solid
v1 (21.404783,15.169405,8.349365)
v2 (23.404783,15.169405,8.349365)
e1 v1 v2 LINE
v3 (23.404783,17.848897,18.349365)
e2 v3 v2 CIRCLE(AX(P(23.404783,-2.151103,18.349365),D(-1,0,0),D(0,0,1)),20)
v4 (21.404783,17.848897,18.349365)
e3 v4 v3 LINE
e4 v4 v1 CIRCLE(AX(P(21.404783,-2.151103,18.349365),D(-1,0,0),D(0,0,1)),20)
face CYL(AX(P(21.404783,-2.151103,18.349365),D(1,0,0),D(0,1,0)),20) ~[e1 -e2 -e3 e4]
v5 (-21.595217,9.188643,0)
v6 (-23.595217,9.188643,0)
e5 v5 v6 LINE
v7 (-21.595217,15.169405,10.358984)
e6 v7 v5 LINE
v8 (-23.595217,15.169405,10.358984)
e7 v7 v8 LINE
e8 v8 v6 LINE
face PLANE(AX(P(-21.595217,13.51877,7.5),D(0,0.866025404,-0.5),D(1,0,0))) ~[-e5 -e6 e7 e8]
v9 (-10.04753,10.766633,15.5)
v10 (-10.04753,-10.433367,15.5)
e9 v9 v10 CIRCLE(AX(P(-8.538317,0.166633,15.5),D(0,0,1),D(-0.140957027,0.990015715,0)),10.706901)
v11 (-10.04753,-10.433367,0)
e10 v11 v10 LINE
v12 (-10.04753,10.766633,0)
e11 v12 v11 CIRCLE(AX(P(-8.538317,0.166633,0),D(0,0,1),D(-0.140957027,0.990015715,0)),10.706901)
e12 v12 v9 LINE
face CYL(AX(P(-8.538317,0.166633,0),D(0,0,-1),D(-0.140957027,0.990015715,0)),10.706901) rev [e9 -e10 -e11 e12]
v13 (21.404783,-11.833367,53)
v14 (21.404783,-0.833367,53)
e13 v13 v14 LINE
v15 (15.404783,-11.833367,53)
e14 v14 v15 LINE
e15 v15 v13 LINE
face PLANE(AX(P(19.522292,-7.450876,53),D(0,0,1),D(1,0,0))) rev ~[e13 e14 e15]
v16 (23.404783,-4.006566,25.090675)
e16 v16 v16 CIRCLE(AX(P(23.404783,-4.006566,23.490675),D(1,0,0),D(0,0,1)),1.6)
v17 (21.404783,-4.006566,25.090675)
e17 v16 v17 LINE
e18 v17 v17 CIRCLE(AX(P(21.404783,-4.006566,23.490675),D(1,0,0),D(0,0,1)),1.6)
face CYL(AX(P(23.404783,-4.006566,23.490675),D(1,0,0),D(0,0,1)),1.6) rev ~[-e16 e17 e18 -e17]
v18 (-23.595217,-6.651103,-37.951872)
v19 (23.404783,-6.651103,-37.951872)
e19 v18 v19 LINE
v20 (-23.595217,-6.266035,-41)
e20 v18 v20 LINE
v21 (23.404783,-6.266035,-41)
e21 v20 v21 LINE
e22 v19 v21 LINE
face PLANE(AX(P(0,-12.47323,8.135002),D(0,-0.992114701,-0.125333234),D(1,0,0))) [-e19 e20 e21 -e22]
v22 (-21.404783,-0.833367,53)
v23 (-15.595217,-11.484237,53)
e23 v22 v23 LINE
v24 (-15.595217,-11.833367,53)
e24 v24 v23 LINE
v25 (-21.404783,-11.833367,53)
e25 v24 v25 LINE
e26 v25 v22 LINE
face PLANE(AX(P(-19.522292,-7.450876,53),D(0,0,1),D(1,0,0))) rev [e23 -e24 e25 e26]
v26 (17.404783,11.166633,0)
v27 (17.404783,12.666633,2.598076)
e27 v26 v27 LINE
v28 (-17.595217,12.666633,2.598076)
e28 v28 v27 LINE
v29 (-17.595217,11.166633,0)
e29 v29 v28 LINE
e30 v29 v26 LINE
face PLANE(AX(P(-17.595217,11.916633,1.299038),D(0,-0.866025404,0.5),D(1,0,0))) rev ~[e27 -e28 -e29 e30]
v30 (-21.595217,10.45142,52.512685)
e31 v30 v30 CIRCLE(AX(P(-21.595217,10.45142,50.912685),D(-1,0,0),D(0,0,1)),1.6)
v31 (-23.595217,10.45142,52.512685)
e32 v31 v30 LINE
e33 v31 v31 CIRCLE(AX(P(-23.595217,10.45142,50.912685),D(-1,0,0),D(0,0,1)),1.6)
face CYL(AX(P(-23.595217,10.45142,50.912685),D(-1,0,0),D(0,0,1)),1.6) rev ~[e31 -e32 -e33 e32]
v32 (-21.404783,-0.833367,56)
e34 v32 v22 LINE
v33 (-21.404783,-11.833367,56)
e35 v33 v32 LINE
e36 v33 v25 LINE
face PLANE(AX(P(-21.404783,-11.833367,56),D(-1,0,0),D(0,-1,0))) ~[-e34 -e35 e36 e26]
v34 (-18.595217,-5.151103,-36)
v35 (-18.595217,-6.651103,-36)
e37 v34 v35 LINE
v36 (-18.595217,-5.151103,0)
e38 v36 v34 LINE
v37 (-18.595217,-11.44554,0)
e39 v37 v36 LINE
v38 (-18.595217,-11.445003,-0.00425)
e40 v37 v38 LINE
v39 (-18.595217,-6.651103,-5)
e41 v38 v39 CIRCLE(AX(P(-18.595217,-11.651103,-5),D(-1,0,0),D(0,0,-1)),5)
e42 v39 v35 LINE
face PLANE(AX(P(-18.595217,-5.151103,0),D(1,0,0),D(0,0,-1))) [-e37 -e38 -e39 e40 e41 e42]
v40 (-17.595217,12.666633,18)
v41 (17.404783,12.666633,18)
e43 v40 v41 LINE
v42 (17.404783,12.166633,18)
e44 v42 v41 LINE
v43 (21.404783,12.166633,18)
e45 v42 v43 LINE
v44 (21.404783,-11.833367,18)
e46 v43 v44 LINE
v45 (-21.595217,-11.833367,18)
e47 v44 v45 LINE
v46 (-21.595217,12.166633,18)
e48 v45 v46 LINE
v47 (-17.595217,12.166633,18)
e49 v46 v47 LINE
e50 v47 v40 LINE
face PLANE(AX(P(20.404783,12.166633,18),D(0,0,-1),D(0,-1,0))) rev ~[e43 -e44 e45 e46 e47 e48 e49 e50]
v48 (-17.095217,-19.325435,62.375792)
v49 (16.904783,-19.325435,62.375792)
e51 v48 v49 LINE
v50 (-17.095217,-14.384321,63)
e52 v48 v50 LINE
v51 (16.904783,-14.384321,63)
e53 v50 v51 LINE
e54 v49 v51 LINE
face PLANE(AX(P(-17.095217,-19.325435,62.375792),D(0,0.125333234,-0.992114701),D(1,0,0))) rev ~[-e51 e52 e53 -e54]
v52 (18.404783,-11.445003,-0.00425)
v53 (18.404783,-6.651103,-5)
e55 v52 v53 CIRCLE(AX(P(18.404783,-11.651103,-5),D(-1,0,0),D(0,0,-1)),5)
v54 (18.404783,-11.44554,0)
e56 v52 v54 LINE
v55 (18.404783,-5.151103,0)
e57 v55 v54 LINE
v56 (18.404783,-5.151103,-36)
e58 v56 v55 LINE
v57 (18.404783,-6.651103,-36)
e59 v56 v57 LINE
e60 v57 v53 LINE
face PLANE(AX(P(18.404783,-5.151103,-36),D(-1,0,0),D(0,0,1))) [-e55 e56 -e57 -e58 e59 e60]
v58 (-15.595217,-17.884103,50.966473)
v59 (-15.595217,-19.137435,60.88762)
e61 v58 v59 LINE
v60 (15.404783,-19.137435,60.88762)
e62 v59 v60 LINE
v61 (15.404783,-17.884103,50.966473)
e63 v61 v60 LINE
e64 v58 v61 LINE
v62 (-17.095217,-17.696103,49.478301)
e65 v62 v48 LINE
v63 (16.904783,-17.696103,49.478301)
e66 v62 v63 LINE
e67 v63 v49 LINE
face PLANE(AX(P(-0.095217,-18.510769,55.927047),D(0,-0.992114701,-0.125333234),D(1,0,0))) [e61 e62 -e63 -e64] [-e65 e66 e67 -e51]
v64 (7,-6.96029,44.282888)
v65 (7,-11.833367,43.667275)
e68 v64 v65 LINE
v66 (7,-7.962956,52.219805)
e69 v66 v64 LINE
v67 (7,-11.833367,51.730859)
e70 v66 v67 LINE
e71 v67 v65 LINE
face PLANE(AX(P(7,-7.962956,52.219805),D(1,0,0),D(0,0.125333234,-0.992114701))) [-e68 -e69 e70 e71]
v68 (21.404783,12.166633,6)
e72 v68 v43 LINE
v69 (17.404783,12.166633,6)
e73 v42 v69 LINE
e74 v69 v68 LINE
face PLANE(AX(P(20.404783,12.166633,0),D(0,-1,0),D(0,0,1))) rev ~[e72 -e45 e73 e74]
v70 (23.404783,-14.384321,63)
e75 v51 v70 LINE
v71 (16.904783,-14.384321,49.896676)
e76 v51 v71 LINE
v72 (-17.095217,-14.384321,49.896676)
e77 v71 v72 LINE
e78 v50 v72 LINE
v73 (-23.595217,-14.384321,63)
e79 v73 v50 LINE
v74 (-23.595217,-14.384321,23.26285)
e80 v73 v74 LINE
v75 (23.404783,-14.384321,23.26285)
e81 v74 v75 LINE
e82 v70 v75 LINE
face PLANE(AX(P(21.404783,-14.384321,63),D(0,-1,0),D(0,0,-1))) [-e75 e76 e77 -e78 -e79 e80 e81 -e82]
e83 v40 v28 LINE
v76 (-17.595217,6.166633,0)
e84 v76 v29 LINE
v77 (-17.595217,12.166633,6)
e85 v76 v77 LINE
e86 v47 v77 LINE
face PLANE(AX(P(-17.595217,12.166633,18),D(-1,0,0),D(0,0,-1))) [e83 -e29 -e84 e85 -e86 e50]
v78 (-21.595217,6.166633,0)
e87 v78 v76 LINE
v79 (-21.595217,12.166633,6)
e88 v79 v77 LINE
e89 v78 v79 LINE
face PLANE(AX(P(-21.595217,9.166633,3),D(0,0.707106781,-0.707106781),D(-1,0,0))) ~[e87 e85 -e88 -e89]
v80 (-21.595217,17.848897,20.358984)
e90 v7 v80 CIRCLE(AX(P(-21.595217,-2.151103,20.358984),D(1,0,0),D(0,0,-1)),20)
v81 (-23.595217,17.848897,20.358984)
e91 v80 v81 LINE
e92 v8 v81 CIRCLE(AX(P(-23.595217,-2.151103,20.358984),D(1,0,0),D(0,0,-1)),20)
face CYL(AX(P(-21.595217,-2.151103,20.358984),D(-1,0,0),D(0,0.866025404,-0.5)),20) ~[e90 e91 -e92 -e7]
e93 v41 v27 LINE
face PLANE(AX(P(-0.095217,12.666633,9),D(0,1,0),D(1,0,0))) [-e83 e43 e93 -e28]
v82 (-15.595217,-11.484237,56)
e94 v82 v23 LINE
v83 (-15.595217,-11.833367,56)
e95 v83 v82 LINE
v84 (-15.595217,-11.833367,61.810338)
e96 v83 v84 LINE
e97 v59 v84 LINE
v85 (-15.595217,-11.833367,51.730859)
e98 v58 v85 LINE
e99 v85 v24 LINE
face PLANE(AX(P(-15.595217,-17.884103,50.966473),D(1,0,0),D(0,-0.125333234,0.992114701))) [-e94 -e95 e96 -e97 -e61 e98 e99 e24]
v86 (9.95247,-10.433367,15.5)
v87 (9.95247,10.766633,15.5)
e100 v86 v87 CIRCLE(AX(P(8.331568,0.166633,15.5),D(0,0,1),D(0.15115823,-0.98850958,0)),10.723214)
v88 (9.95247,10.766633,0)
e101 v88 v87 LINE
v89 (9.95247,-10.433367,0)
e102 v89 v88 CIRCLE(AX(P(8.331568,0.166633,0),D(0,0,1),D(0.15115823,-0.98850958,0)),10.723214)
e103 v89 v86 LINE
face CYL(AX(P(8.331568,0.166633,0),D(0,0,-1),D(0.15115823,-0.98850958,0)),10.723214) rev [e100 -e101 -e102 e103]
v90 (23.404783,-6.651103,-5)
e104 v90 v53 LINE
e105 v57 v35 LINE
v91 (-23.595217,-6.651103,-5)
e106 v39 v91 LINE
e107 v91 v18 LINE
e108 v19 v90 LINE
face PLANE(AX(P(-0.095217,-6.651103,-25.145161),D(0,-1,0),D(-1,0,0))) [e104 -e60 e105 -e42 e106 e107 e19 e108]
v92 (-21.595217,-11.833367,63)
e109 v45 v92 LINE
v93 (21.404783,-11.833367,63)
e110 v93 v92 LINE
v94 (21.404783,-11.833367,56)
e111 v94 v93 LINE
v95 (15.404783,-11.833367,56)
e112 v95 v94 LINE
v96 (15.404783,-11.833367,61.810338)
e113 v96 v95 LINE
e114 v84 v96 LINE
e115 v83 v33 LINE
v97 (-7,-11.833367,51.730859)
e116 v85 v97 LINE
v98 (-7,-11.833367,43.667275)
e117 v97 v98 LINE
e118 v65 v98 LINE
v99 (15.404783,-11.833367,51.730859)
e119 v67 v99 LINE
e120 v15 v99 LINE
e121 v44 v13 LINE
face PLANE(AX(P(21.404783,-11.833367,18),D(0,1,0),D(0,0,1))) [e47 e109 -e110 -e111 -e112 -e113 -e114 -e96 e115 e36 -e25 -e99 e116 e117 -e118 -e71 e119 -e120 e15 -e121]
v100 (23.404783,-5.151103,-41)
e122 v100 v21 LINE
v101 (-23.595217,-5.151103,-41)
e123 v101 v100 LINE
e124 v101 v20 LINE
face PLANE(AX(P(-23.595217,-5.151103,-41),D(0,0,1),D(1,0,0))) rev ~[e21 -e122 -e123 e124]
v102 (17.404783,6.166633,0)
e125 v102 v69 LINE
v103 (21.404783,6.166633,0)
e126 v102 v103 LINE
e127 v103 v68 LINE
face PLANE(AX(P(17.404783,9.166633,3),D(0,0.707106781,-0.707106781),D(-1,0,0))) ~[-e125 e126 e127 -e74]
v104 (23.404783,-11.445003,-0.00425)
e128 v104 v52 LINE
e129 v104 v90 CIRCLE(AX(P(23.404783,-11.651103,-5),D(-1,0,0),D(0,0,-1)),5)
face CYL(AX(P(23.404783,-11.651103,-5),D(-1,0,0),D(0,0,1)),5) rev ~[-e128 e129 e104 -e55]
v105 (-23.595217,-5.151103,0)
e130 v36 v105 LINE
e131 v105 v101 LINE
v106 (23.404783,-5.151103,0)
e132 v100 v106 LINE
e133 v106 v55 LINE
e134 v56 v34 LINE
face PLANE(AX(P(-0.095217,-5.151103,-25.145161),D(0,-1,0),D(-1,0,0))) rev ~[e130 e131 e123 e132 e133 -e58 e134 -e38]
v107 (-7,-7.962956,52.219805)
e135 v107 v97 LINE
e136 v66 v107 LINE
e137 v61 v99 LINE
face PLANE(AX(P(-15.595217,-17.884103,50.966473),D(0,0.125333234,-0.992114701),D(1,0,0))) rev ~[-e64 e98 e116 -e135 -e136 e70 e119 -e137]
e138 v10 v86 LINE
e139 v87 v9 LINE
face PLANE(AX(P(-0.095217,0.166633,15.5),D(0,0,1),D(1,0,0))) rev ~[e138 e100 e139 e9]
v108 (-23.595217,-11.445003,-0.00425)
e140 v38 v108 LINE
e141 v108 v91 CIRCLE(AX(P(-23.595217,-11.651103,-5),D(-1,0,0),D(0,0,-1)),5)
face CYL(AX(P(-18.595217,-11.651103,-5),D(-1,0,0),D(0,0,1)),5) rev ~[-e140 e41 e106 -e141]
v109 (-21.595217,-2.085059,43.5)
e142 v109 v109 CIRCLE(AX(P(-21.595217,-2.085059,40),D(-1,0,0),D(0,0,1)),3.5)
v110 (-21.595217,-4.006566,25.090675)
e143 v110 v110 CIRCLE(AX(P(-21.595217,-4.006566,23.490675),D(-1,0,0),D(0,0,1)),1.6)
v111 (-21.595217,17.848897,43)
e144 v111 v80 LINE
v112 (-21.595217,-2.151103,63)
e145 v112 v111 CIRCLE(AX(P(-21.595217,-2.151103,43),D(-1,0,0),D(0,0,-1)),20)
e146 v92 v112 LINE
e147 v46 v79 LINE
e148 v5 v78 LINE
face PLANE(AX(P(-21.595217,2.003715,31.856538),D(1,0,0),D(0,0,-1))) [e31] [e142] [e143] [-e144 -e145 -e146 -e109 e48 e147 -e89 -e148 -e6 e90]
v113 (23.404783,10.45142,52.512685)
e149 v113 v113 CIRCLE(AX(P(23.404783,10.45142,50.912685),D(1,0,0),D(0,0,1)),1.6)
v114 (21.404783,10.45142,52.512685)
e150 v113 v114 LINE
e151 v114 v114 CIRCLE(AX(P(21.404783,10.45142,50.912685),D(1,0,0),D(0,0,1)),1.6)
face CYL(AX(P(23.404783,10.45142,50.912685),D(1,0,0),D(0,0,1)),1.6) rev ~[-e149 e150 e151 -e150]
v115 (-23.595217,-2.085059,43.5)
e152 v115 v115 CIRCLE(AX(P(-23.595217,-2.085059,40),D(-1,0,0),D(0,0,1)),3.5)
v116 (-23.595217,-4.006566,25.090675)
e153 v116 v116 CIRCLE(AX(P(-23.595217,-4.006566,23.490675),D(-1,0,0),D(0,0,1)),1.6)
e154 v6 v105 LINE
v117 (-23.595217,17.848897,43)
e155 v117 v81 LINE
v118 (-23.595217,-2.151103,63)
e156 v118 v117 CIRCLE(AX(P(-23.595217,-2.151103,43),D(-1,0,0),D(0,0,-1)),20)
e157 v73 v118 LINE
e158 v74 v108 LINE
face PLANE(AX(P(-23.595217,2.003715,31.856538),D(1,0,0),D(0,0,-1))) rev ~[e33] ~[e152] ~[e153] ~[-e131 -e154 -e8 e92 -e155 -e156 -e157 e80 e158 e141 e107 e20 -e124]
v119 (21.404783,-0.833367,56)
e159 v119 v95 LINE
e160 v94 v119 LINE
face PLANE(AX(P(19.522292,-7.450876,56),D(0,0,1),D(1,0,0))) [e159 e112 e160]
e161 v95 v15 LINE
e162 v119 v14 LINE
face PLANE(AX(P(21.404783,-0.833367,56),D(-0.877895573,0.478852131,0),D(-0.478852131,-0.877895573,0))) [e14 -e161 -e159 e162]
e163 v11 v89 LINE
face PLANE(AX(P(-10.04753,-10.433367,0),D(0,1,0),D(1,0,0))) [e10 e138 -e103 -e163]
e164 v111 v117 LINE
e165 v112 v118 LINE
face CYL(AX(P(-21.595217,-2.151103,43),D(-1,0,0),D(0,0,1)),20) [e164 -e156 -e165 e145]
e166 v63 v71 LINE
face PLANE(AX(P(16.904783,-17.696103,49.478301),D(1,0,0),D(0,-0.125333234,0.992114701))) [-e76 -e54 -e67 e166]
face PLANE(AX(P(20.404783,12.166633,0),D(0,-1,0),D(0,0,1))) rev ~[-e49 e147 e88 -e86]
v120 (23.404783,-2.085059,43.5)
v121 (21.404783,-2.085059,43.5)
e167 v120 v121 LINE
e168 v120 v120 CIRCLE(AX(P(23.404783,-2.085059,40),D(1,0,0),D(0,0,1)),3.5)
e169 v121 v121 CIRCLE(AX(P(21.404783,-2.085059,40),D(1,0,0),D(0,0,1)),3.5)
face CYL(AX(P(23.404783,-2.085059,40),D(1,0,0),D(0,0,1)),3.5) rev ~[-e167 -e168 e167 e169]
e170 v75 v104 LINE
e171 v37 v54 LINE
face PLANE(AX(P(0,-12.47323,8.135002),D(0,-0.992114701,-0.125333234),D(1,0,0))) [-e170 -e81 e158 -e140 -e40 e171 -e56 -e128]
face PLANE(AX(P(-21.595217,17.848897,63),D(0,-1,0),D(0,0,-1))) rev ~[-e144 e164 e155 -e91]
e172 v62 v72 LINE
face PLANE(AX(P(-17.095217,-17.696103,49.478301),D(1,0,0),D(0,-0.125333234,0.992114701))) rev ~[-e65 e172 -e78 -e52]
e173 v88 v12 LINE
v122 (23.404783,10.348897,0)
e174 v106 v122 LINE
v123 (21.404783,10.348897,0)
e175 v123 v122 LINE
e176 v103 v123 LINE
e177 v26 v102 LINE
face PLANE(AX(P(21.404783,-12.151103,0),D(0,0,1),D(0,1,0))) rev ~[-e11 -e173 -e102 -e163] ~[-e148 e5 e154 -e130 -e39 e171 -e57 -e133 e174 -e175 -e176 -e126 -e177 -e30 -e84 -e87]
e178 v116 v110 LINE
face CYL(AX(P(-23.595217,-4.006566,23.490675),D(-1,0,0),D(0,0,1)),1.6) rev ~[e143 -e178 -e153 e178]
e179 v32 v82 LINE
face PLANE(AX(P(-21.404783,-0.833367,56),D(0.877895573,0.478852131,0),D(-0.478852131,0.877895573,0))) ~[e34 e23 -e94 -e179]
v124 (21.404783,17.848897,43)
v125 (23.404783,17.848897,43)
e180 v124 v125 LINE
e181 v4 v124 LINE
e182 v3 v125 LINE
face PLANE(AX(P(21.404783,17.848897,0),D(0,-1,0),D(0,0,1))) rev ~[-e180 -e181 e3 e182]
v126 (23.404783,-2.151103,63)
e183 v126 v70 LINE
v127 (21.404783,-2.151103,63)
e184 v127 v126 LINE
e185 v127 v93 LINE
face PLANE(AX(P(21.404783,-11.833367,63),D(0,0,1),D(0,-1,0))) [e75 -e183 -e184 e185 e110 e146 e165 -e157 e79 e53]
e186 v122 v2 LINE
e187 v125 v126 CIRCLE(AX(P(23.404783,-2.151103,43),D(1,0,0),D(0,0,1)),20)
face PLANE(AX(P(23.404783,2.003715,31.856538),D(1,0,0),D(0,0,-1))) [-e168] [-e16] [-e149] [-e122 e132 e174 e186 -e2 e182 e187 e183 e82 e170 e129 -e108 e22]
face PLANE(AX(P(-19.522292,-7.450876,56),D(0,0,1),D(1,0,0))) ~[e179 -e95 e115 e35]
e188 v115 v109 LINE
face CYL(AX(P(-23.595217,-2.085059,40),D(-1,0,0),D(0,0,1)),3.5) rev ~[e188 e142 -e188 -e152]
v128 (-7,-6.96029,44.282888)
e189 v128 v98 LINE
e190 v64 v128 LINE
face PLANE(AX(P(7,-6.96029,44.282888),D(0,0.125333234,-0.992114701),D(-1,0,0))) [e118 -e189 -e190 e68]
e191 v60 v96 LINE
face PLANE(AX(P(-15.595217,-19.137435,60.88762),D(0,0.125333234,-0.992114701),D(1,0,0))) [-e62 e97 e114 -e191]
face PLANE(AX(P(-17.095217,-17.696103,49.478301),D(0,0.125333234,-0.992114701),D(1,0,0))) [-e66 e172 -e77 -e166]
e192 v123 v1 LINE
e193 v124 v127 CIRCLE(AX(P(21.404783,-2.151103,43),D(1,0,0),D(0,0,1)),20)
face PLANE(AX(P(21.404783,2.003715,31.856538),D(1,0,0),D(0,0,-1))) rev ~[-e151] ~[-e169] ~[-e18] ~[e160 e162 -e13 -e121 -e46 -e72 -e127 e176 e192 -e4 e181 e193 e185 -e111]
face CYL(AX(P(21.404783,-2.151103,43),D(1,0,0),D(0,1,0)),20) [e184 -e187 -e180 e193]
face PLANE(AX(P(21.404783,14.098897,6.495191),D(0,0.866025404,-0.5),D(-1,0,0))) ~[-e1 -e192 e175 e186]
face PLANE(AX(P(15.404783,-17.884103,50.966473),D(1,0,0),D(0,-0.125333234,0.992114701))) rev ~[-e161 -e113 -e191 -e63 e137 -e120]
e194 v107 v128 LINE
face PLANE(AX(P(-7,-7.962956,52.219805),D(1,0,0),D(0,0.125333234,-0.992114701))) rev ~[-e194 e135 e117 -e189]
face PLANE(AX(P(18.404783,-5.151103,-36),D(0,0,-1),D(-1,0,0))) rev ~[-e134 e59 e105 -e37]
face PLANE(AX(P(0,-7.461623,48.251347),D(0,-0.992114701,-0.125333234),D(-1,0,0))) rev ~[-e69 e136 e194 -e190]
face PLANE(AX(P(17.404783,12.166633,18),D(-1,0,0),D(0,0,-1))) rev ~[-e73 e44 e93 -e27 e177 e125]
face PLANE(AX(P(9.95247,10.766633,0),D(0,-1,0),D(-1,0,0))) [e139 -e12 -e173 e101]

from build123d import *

# Parameters (mm, degrees)
EXTRUDE_1_DEPTH          = 15.5
SKETCH_2_W               = 41
SKETCH_2_H               = 24
EXTRUDE_2_DEPTH          = 2.5
EXTRUDE_3_DEPTH          = 41
EXTRUDE_5_DEPTH          = 1
EXTRUDE_6_DEPTH          = 1
EXTRUDE_7_DEPTH          = 2
CUT_EXTRUDE_1_REACH      = 81.452
SKETCH_10_R              = 1.6
SKETCH_10_R_2            = 3.5
EXTRUDE_8_DEPTH          = 2
CUT_EXTRUDE_2_REACH      = 82.601
SKETCH_12_R              = 3.5
SKETCH_12_R_2            = 1.6
EXTRUDE_9_DEPTH          = 43
EXTRUDE_10_DEPTH         = 3
EXTRUDE_11_DEPTH         = 1.5
FILLET_1_R               = 5
SKETCH_21_W              = 35
SKETCH_21_H              = 18
EXTRUDE_12_DEPTH         = 0.5
CHAMFER_1_SIZE           = 6
CUT_EXTRUDE_4_DEPTH      = 10
CUT_EXTRUDE_4_DEPTH_BACK = 0.7
SKETCH_24_W              = 99.76929375
SKETCH_24_H              = 144.1272379
CHAMFER_2_SIZE           = 15
CHAMFER_2_SIZE2          = 8.660254038
CHAMFER_3_SIZE           = 7.5
CHAMFER_3_SIZE2          = 12.990381057
CHAMFER_4_SIZE           = 1.5
CHAMFER_4_SIZE2          = 2.598076211
EXTRUDE_13_REACH         = 76.53
SKETCH_25_W              = 34
SKETCH_25_H              = 13
CUT_EXTRUDE_5_REACH      = 76.53
SKETCH_26_W              = 31
SKETCH_26_H              = 10
EXTRUDE_14_REACH         = 72.111
SKETCH_27_W              = 14
SKETCH_27_H              = 8
FILLET_2_R               = 20
FILLET_3_R               = 20


with BuildPart() as part:
    # ｽｹｯﾁ1 → ﾎﾞｽ - 押し出し1 (new body)
    with BuildSketch(Plane.XY):
        Polygon((10.055611053, 12.166632755), (-10.143634653, 12.166632755), (-20.595217471, 12.166632755), (-20.595217471, -0.083367245), (-20.595217471, -11.833367245), (-10.143634653, -11.833367245), (10.055611053, -11.833367245), (20.404782529, -11.833367245), (20.404782529, 0.125988678), (20.404782529, 12.166632755), align=None)
        with BuildLine():
            Line((9.95247038, 10.766632755), (-10.04752962, 10.766632755))
            ThreePointArc((-10.04752962, 10.766632755), (-19.245217471, 0.166632755), (-10.04752962, -10.433367245))
            Line((-10.04752962, -10.433367245), (9.95247038, -10.433367245))
            ThreePointArc((9.95247038, -10.433367245), (19.054782529, 0.166632755), (9.95247038, 10.766632755))
        make_face(mode=Mode.SUBTRACT)
    extrude(amount=EXTRUDE_1_DEPTH)

    # ｽｹｯﾁ2 → ﾎﾞｽ - 押し出し2 (add)
    with BuildSketch(Plane.XY.offset(15.5)):
        with Locations((-0.095217471, 0.166632755)):
            Rectangle(SKETCH_2_W, SKETCH_2_H)
    extrude(amount=EXTRUDE_2_DEPTH)

    # ｽｹｯﾁ3 → ﾎﾞｽ - 押し出し3 (add)
    with BuildSketch(Plane.ZY.offset(20.595217471)):
        Polygon((0, -12.15110343), (17.677739562, -14.384321281), (18, -11.833367245), (0, -11.833367245), align=None)
    extrude(amount=-EXTRUDE_3_DEPTH)

    # ｽｹｯﾁ5 → ﾎﾞｽ - 押し出し5 (add)
    with BuildSketch(Plane.ZY.offset(20.595217471)):
        Polygon((0, 12.166632755), (0, -12.15110343), (17.677739562, -14.384321281), (18, -11.833367245), (18, 12.166632755), align=None)
    extrude(amount=EXTRUDE_5_DEPTH)

    # ｽｹｯﾁ7 → ﾎﾞｽ - 押し出し6 (add)
    with BuildSketch(Plane(origin=(20.404782529, 0, 0), x_dir=(0, 0, -1), z_dir=(1, 0, 0))):
        Polygon((0, -12.15110343), (0, 12.166632755), (-18, 12.166632755), (-18, -11.833367245), (-17.677739562, -14.384321281), align=None)
    extrude(amount=EXTRUDE_6_DEPTH)

    # ｽｹｯﾁ8 → ﾎﾞｽ - 押し出し7 (add)
    with BuildSketch(Plane.ZY.offset(21.595217471)):
        Polygon((63, 0.066632755), (63, -14.384321281), (17.677739562, -14.384321281), (0, -12.15110343), (0, 12.166632755), (0, 17.84889657), (48, 17.84889657), (63, 17.84889657), align=None)
    extrude(amount=EXTRUDE_7_DEPTH)

    # ｽｹｯﾁ10 → ｶｯﾄ - 押し出し1 (cut, up to next)
    with BuildSketch(Plane.ZY.offset(23.595217471), mode=Mode.PRIVATE) as cut_extrude_1_sk1:
        with Locations((23.490675042, -4.00656608)):
            Circle(SKETCH_10_R)
    cut_extrude_1_tool1 = extrude(cut_extrude_1_sk1.sketch, amount=-CUT_EXTRUDE_1_REACH, mode=Mode.PRIVATE) & part.part
    # ｽｹｯﾁ10 → ｶｯﾄ - 押し出し1 (cut, up to next)
    with BuildSketch(Plane.ZY.offset(23.595217471), mode=Mode.PRIVATE) as cut_extrude_1_sk2:
        with Locations((50.912685274, 10.451419771)):
            Circle(SKETCH_10_R)
    cut_extrude_1_tool2 = extrude(cut_extrude_1_sk2.sketch, amount=-CUT_EXTRUDE_1_REACH, mode=Mode.PRIVATE) & part.part
    # ｽｹｯﾁ10 → ｶｯﾄ - 押し出し1 (cut, up to next)
    with BuildSketch(Plane.ZY.offset(23.595217471), mode=Mode.PRIVATE) as cut_extrude_1_sk3:
        with Locations((40, -2.085059006)):
            Circle(SKETCH_10_R_2)
    cut_extrude_1_tool3 = extrude(cut_extrude_1_sk3.sketch, amount=-CUT_EXTRUDE_1_REACH, mode=Mode.PRIVATE) & part.part
    add(cut_extrude_1_tool1.solids().sort_by_distance((-23.595217, -4.006566, 23.490675))[0], mode=Mode.SUBTRACT)
    add(cut_extrude_1_tool2.solids().sort_by_distance((-23.595217, 10.45142, 50.912685))[0], mode=Mode.SUBTRACT)
    add(cut_extrude_1_tool3.solids().sort_by_distance((-23.595217, -2.085059, 40))[0], mode=Mode.SUBTRACT)

    # ｽｹｯﾁ11 → ﾎﾞｽ - 押し出し8 (add)
    with BuildSketch(Plane(origin=(21.404782529, 0, 0), x_dir=(0, 0, -1), z_dir=(1, 0, 0))):
        Polygon((-63, -14.384321281), (-17.677739562, -14.384321281), (0, -12.15110343), (0, 17.84889657), (-63, 17.84889657), align=None)
    extrude(amount=EXTRUDE_8_DEPTH)

    # ｽｹｯﾁ12 → ｶｯﾄ - 押し出し2 (cut, up to next)
    with BuildSketch(Plane(origin=(23.404782529, 0, 0), x_dir=(0, 0, -1), z_dir=(1, 0, 0)), mode=Mode.PRIVATE) as cut_extrude_2_sk1:
        with Locations(Location((-40, -2.085059006, 0), (0, 0, 180))):
            Circle(SKETCH_12_R)
    cut_extrude_2_tool1 = extrude(cut_extrude_2_sk1.sketch, amount=-CUT_EXTRUDE_2_REACH, mode=Mode.PRIVATE) & part.part
    # ｽｹｯﾁ12 → ｶｯﾄ - 押し出し2 (cut, up to next)
    with BuildSketch(Plane(origin=(23.404782529, 0, 0), x_dir=(0, 0, -1), z_dir=(1, 0, 0)), mode=Mode.PRIVATE) as cut_extrude_2_sk2:
        with Locations(Location((-50.912685274, 10.451419771, 0), (0, 0, 180))):
            Circle(SKETCH_12_R_2)
    cut_extrude_2_tool2 = extrude(cut_extrude_2_sk2.sketch, amount=-CUT_EXTRUDE_2_REACH, mode=Mode.PRIVATE) & part.part
    # ｽｹｯﾁ12 → ｶｯﾄ - 押し出し2 (cut, up to next)
    with BuildSketch(Plane(origin=(23.404782529, 0, 0), x_dir=(0, 0, -1), z_dir=(1, 0, 0)), mode=Mode.PRIVATE) as cut_extrude_2_sk3:
        with Locations(Location((-23.490675042, -4.00656608, 0), (0, 0, 180))):
            Circle(SKETCH_12_R_2)
    cut_extrude_2_tool3 = extrude(cut_extrude_2_sk3.sketch, amount=-CUT_EXTRUDE_2_REACH, mode=Mode.PRIVATE) & part.part
    add(cut_extrude_2_tool1.solids().sort_by_distance((23.404783, -2.085059, 40))[0], mode=Mode.SUBTRACT)
    add(cut_extrude_2_tool2.solids().sort_by_distance((23.404783, 10.45142, 50.912685))[0], mode=Mode.SUBTRACT)
    add(cut_extrude_2_tool3.solids().sort_by_distance((23.404783, -4.006566, 23.490675))[0], mode=Mode.SUBTRACT)

    # ｽｹｯﾁ13 → ﾎﾞｽ - 押し出し9 (add)
    with BuildSketch(Plane.ZY.offset(-21.404782529)):
        Polygon((17.677739562, -14.384321281), (18, -11.833367245), (63, -11.833367245), (63, -14.384321281), align=None)
    extrude(amount=EXTRUDE_9_DEPTH)

    # ｽｹｯﾁ18 → ﾎﾞｽ - 押し出し10 (add)
    with BuildSketch(Plane.XY.offset(56)):
        Polygon((21.404782529, -0.833367245), (15.404782529, -11.833367245), (21.404782529, -11.833367245), align=None)
    extrude_10 = extrude(amount=-EXTRUDE_10_DEPTH)

    # ﾐﾗｰ2: ﾎﾞｽ - 押し出し10 across plane
    add(extrude_10.mirror(Plane(origin=(0, 0, 0), x_dir=(0, 0, 1), z_dir=(1, 0, 0))))

    # ｽｹｯﾁ20 → ﾎﾞｽ - 押し出し11 (add)
    with BuildSketch(Plane(origin=(0, -5.15110343, 0), x_dir=(1, 0, 0), z_dir=(0, 1, 0))):
        Polygon((23.404782529, 0), (18.404782529, 0), (18.404782529, 5), (18.404782529, 36), (-18.595217471, 36), (-18.595217471, 5), (-18.595217471, 0), (-23.595217471, 0), (-23.595217471, 41), (23.404782529, 41), align=None)
    extrude(amount=-EXTRUDE_11_DEPTH)

    # ﾌｨﾚｯﾄ1
    fillet_1_edges = [part.edges().sort_by_distance(p)[0] for p in [
        (20.904782529, -6.65110343, 0),
        (-21.095217471, -6.65110343, 0),
    ]]
    fillet(fillet_1_edges, radius=FILLET_1_R)

    # ｽｹｯﾁ21 → ﾎﾞｽ - 押し出し12 (add)
    with BuildSketch(Plane(origin=(0, 12.166632755, 0), x_dir=(1, 0, 0), z_dir=(0, 1, 0))):
        with Locations((-0.095217471, -9)):
            Rectangle(SKETCH_21_W, SKETCH_21_H)
    extrude(amount=EXTRUDE_12_DEPTH)

    # 面取り1
    chamfer_1_edges = [part.edges().sort_by_distance(p)[0] for p in [
        (19.404782529, 12.166632755, 0),
        (-19.595217471, 12.166632755, 0),
    ]]
    chamfer(chamfer_1_edges, length=CHAMFER_1_SIZE)

    # ｽｹｯﾁ24 → ｶｯﾄ - 押し出し4 (cut, two sides: drawn at the far end of the back side and taken through both)
    with BuildSketch(Plane(origin=(0, -11.960228801, -1.51092827), x_dir=(1, 0, 0), z_dir=(0, -0.9921147013144787, -0.12533323356429749)).offset(-CUT_EXTRUDE_4_DEPTH_BACK)):
        with Locations((0, 9.634165713)):
            Rectangle(SKETCH_24_W, SKETCH_24_H)
    extrude(amount=CUT_EXTRUDE_4_DEPTH + CUT_EXTRUDE_4_DEPTH_BACK, mode=Mode.SUBTRACT)

    # 面取り2
    chamfer_2_edges = [part.edges().sort_by_distance(p)[0] for p in [
        (-22.595217471, 17.84889657, 0),
    ]]
    chamfer_2_side = [part.faces().sort_by_distance(p)[0] for p in [
        (-22.595217471, 17.84889657, 31.5),
    ]]
    chamfer(chamfer_2_edges, length=CHAMFER_2_SIZE, length2=CHAMFER_2_SIZE2, reference=chamfer_2_side[0])

    # 面取り3
    chamfer_3_edges = [part.edges().sort_by_distance(p)[0] for p in [
        (22.404782529, 17.84889657, 0),
    ]]
    chamfer_3_side = [part.faces().sort_by_distance(p)[0] for p in [
        (-23.041397644, 2.018769551, 0),
    ]]
    chamfer(chamfer_3_edges, length=CHAMFER_3_SIZE, length2=CHAMFER_3_SIZE2, reference=chamfer_3_side[0])

    # 面取り4
    chamfer_4_edges = [part.edges().sort_by_distance(p)[0] for p in [
        (-0.095217471, 12.666632755, 0),
    ]]
    chamfer_4_side = [part.faces().sort_by_distance(p)[0] for p in [
        (22.876540457, 2.59889657, 0),
    ]]
    chamfer(chamfer_4_edges, length=CHAMFER_4_SIZE, length2=CHAMFER_4_SIZE2, reference=chamfer_4_side[0])

    # ｽｹｯﾁ25 → ﾎﾞｽ - 押し出し13 (add, up to next)
    with BuildSketch(Plane(origin=(0, -11.26574851, -1.423195007), x_dir=(1, 0, 0), z_dir=(0, -0.9921147013144788, -0.12533323356429746)), mode=Mode.PRIVATE) as extrude_13_sk1:
        with Locations((-0.095217471, 57.806059682)):
            Rectangle(SKETCH_25_W, SKETCH_25_H)
    extrude_13_tool1 = extrude(extrude_13_sk1.sketch, amount=-EXTRUDE_13_REACH, mode=Mode.PRIVATE) - part.part
    add(extrude_13_tool1.solids().sort_by_distance((-0.095217, -18.510769, 55.927047))[0])

    # ｽｹｯﾁ26 → ｶｯﾄ - 押し出し5 (cut, up to next)
    with BuildSketch(Plane(origin=(0, -11.26574851, -1.423195007), x_dir=(1, 0, 0), z_dir=(0, -0.9921147013144788, -0.1253332335642974)), mode=Mode.PRIVATE) as cut_extrude_5_sk1:
        with Locations((-0.095217471, 57.806059682)):
            Rectangle(SKETCH_26_W, SKETCH_26_H)
    cut_extrude_5_tool1 = extrude(cut_extrude_5_sk1.sketch, amount=-CUT_EXTRUDE_5_REACH, mode=Mode.PRIVATE) & part.part
    add(cut_extrude_5_tool1.solids().sort_by_distance((-0.095217, -18.510769, 55.927047))[0], mode=Mode.SUBTRACT)

    # ﾎﾞｽ - 押し出し14: up to this plane
    extrude_14_end = Plane(origin=(-66.989211101, -11.833367245, 18), z_dir=(0, -1, 0))
    # ｽｹｯﾁ27 → ﾎﾞｽ - 押し出し14 (add, up to the surface)
    with BuildSketch(Plane(origin=(0, -1.344601497, -0.169862671), x_dir=(-1, 0, 0), z_dir=(0, -0.9921147013144788, -0.1253332335642974)), mode=Mode.PRIVATE) as extrude_14_sk1:
        with Locations((0, -48.806059682)):
            Rectangle(SKETCH_27_W, SKETCH_27_H)
    extrude_14_tool1 = split(extrude(extrude_14_sk1.sketch, amount=EXTRUDE_14_REACH, mode=Mode.PRIVATE), bisect_by=extrude_14_end, keep=Keep.BOTH, mode=Mode.PRIVATE)
    add(extrude_14_tool1.solids().sort_by_distance((0, -7.461623, 48.251347))[0])

    # ﾌｨﾚｯﾄ2
    fillet_2_edges = [part.edges().sort_by_distance(p)[0] for p in [
        (-22.595217471, 17.84889657, 63),
        (22.404782529, 17.84889657, 63),
    ]]
    fillet(fillet_2_edges, radius=FILLET_2_R)

    # ﾌｨﾚｯﾄ3
    fillet_3_edges = [part.edges().sort_by_distance(p)[0] for p in [
        (-22.595217471, 17.84889657, 15),
        (22.404782529, 17.84889657, 12.990381057),
    ]]
    fillet(fillet_3_edges, radius=FILLET_3_R)


solid = part.part
